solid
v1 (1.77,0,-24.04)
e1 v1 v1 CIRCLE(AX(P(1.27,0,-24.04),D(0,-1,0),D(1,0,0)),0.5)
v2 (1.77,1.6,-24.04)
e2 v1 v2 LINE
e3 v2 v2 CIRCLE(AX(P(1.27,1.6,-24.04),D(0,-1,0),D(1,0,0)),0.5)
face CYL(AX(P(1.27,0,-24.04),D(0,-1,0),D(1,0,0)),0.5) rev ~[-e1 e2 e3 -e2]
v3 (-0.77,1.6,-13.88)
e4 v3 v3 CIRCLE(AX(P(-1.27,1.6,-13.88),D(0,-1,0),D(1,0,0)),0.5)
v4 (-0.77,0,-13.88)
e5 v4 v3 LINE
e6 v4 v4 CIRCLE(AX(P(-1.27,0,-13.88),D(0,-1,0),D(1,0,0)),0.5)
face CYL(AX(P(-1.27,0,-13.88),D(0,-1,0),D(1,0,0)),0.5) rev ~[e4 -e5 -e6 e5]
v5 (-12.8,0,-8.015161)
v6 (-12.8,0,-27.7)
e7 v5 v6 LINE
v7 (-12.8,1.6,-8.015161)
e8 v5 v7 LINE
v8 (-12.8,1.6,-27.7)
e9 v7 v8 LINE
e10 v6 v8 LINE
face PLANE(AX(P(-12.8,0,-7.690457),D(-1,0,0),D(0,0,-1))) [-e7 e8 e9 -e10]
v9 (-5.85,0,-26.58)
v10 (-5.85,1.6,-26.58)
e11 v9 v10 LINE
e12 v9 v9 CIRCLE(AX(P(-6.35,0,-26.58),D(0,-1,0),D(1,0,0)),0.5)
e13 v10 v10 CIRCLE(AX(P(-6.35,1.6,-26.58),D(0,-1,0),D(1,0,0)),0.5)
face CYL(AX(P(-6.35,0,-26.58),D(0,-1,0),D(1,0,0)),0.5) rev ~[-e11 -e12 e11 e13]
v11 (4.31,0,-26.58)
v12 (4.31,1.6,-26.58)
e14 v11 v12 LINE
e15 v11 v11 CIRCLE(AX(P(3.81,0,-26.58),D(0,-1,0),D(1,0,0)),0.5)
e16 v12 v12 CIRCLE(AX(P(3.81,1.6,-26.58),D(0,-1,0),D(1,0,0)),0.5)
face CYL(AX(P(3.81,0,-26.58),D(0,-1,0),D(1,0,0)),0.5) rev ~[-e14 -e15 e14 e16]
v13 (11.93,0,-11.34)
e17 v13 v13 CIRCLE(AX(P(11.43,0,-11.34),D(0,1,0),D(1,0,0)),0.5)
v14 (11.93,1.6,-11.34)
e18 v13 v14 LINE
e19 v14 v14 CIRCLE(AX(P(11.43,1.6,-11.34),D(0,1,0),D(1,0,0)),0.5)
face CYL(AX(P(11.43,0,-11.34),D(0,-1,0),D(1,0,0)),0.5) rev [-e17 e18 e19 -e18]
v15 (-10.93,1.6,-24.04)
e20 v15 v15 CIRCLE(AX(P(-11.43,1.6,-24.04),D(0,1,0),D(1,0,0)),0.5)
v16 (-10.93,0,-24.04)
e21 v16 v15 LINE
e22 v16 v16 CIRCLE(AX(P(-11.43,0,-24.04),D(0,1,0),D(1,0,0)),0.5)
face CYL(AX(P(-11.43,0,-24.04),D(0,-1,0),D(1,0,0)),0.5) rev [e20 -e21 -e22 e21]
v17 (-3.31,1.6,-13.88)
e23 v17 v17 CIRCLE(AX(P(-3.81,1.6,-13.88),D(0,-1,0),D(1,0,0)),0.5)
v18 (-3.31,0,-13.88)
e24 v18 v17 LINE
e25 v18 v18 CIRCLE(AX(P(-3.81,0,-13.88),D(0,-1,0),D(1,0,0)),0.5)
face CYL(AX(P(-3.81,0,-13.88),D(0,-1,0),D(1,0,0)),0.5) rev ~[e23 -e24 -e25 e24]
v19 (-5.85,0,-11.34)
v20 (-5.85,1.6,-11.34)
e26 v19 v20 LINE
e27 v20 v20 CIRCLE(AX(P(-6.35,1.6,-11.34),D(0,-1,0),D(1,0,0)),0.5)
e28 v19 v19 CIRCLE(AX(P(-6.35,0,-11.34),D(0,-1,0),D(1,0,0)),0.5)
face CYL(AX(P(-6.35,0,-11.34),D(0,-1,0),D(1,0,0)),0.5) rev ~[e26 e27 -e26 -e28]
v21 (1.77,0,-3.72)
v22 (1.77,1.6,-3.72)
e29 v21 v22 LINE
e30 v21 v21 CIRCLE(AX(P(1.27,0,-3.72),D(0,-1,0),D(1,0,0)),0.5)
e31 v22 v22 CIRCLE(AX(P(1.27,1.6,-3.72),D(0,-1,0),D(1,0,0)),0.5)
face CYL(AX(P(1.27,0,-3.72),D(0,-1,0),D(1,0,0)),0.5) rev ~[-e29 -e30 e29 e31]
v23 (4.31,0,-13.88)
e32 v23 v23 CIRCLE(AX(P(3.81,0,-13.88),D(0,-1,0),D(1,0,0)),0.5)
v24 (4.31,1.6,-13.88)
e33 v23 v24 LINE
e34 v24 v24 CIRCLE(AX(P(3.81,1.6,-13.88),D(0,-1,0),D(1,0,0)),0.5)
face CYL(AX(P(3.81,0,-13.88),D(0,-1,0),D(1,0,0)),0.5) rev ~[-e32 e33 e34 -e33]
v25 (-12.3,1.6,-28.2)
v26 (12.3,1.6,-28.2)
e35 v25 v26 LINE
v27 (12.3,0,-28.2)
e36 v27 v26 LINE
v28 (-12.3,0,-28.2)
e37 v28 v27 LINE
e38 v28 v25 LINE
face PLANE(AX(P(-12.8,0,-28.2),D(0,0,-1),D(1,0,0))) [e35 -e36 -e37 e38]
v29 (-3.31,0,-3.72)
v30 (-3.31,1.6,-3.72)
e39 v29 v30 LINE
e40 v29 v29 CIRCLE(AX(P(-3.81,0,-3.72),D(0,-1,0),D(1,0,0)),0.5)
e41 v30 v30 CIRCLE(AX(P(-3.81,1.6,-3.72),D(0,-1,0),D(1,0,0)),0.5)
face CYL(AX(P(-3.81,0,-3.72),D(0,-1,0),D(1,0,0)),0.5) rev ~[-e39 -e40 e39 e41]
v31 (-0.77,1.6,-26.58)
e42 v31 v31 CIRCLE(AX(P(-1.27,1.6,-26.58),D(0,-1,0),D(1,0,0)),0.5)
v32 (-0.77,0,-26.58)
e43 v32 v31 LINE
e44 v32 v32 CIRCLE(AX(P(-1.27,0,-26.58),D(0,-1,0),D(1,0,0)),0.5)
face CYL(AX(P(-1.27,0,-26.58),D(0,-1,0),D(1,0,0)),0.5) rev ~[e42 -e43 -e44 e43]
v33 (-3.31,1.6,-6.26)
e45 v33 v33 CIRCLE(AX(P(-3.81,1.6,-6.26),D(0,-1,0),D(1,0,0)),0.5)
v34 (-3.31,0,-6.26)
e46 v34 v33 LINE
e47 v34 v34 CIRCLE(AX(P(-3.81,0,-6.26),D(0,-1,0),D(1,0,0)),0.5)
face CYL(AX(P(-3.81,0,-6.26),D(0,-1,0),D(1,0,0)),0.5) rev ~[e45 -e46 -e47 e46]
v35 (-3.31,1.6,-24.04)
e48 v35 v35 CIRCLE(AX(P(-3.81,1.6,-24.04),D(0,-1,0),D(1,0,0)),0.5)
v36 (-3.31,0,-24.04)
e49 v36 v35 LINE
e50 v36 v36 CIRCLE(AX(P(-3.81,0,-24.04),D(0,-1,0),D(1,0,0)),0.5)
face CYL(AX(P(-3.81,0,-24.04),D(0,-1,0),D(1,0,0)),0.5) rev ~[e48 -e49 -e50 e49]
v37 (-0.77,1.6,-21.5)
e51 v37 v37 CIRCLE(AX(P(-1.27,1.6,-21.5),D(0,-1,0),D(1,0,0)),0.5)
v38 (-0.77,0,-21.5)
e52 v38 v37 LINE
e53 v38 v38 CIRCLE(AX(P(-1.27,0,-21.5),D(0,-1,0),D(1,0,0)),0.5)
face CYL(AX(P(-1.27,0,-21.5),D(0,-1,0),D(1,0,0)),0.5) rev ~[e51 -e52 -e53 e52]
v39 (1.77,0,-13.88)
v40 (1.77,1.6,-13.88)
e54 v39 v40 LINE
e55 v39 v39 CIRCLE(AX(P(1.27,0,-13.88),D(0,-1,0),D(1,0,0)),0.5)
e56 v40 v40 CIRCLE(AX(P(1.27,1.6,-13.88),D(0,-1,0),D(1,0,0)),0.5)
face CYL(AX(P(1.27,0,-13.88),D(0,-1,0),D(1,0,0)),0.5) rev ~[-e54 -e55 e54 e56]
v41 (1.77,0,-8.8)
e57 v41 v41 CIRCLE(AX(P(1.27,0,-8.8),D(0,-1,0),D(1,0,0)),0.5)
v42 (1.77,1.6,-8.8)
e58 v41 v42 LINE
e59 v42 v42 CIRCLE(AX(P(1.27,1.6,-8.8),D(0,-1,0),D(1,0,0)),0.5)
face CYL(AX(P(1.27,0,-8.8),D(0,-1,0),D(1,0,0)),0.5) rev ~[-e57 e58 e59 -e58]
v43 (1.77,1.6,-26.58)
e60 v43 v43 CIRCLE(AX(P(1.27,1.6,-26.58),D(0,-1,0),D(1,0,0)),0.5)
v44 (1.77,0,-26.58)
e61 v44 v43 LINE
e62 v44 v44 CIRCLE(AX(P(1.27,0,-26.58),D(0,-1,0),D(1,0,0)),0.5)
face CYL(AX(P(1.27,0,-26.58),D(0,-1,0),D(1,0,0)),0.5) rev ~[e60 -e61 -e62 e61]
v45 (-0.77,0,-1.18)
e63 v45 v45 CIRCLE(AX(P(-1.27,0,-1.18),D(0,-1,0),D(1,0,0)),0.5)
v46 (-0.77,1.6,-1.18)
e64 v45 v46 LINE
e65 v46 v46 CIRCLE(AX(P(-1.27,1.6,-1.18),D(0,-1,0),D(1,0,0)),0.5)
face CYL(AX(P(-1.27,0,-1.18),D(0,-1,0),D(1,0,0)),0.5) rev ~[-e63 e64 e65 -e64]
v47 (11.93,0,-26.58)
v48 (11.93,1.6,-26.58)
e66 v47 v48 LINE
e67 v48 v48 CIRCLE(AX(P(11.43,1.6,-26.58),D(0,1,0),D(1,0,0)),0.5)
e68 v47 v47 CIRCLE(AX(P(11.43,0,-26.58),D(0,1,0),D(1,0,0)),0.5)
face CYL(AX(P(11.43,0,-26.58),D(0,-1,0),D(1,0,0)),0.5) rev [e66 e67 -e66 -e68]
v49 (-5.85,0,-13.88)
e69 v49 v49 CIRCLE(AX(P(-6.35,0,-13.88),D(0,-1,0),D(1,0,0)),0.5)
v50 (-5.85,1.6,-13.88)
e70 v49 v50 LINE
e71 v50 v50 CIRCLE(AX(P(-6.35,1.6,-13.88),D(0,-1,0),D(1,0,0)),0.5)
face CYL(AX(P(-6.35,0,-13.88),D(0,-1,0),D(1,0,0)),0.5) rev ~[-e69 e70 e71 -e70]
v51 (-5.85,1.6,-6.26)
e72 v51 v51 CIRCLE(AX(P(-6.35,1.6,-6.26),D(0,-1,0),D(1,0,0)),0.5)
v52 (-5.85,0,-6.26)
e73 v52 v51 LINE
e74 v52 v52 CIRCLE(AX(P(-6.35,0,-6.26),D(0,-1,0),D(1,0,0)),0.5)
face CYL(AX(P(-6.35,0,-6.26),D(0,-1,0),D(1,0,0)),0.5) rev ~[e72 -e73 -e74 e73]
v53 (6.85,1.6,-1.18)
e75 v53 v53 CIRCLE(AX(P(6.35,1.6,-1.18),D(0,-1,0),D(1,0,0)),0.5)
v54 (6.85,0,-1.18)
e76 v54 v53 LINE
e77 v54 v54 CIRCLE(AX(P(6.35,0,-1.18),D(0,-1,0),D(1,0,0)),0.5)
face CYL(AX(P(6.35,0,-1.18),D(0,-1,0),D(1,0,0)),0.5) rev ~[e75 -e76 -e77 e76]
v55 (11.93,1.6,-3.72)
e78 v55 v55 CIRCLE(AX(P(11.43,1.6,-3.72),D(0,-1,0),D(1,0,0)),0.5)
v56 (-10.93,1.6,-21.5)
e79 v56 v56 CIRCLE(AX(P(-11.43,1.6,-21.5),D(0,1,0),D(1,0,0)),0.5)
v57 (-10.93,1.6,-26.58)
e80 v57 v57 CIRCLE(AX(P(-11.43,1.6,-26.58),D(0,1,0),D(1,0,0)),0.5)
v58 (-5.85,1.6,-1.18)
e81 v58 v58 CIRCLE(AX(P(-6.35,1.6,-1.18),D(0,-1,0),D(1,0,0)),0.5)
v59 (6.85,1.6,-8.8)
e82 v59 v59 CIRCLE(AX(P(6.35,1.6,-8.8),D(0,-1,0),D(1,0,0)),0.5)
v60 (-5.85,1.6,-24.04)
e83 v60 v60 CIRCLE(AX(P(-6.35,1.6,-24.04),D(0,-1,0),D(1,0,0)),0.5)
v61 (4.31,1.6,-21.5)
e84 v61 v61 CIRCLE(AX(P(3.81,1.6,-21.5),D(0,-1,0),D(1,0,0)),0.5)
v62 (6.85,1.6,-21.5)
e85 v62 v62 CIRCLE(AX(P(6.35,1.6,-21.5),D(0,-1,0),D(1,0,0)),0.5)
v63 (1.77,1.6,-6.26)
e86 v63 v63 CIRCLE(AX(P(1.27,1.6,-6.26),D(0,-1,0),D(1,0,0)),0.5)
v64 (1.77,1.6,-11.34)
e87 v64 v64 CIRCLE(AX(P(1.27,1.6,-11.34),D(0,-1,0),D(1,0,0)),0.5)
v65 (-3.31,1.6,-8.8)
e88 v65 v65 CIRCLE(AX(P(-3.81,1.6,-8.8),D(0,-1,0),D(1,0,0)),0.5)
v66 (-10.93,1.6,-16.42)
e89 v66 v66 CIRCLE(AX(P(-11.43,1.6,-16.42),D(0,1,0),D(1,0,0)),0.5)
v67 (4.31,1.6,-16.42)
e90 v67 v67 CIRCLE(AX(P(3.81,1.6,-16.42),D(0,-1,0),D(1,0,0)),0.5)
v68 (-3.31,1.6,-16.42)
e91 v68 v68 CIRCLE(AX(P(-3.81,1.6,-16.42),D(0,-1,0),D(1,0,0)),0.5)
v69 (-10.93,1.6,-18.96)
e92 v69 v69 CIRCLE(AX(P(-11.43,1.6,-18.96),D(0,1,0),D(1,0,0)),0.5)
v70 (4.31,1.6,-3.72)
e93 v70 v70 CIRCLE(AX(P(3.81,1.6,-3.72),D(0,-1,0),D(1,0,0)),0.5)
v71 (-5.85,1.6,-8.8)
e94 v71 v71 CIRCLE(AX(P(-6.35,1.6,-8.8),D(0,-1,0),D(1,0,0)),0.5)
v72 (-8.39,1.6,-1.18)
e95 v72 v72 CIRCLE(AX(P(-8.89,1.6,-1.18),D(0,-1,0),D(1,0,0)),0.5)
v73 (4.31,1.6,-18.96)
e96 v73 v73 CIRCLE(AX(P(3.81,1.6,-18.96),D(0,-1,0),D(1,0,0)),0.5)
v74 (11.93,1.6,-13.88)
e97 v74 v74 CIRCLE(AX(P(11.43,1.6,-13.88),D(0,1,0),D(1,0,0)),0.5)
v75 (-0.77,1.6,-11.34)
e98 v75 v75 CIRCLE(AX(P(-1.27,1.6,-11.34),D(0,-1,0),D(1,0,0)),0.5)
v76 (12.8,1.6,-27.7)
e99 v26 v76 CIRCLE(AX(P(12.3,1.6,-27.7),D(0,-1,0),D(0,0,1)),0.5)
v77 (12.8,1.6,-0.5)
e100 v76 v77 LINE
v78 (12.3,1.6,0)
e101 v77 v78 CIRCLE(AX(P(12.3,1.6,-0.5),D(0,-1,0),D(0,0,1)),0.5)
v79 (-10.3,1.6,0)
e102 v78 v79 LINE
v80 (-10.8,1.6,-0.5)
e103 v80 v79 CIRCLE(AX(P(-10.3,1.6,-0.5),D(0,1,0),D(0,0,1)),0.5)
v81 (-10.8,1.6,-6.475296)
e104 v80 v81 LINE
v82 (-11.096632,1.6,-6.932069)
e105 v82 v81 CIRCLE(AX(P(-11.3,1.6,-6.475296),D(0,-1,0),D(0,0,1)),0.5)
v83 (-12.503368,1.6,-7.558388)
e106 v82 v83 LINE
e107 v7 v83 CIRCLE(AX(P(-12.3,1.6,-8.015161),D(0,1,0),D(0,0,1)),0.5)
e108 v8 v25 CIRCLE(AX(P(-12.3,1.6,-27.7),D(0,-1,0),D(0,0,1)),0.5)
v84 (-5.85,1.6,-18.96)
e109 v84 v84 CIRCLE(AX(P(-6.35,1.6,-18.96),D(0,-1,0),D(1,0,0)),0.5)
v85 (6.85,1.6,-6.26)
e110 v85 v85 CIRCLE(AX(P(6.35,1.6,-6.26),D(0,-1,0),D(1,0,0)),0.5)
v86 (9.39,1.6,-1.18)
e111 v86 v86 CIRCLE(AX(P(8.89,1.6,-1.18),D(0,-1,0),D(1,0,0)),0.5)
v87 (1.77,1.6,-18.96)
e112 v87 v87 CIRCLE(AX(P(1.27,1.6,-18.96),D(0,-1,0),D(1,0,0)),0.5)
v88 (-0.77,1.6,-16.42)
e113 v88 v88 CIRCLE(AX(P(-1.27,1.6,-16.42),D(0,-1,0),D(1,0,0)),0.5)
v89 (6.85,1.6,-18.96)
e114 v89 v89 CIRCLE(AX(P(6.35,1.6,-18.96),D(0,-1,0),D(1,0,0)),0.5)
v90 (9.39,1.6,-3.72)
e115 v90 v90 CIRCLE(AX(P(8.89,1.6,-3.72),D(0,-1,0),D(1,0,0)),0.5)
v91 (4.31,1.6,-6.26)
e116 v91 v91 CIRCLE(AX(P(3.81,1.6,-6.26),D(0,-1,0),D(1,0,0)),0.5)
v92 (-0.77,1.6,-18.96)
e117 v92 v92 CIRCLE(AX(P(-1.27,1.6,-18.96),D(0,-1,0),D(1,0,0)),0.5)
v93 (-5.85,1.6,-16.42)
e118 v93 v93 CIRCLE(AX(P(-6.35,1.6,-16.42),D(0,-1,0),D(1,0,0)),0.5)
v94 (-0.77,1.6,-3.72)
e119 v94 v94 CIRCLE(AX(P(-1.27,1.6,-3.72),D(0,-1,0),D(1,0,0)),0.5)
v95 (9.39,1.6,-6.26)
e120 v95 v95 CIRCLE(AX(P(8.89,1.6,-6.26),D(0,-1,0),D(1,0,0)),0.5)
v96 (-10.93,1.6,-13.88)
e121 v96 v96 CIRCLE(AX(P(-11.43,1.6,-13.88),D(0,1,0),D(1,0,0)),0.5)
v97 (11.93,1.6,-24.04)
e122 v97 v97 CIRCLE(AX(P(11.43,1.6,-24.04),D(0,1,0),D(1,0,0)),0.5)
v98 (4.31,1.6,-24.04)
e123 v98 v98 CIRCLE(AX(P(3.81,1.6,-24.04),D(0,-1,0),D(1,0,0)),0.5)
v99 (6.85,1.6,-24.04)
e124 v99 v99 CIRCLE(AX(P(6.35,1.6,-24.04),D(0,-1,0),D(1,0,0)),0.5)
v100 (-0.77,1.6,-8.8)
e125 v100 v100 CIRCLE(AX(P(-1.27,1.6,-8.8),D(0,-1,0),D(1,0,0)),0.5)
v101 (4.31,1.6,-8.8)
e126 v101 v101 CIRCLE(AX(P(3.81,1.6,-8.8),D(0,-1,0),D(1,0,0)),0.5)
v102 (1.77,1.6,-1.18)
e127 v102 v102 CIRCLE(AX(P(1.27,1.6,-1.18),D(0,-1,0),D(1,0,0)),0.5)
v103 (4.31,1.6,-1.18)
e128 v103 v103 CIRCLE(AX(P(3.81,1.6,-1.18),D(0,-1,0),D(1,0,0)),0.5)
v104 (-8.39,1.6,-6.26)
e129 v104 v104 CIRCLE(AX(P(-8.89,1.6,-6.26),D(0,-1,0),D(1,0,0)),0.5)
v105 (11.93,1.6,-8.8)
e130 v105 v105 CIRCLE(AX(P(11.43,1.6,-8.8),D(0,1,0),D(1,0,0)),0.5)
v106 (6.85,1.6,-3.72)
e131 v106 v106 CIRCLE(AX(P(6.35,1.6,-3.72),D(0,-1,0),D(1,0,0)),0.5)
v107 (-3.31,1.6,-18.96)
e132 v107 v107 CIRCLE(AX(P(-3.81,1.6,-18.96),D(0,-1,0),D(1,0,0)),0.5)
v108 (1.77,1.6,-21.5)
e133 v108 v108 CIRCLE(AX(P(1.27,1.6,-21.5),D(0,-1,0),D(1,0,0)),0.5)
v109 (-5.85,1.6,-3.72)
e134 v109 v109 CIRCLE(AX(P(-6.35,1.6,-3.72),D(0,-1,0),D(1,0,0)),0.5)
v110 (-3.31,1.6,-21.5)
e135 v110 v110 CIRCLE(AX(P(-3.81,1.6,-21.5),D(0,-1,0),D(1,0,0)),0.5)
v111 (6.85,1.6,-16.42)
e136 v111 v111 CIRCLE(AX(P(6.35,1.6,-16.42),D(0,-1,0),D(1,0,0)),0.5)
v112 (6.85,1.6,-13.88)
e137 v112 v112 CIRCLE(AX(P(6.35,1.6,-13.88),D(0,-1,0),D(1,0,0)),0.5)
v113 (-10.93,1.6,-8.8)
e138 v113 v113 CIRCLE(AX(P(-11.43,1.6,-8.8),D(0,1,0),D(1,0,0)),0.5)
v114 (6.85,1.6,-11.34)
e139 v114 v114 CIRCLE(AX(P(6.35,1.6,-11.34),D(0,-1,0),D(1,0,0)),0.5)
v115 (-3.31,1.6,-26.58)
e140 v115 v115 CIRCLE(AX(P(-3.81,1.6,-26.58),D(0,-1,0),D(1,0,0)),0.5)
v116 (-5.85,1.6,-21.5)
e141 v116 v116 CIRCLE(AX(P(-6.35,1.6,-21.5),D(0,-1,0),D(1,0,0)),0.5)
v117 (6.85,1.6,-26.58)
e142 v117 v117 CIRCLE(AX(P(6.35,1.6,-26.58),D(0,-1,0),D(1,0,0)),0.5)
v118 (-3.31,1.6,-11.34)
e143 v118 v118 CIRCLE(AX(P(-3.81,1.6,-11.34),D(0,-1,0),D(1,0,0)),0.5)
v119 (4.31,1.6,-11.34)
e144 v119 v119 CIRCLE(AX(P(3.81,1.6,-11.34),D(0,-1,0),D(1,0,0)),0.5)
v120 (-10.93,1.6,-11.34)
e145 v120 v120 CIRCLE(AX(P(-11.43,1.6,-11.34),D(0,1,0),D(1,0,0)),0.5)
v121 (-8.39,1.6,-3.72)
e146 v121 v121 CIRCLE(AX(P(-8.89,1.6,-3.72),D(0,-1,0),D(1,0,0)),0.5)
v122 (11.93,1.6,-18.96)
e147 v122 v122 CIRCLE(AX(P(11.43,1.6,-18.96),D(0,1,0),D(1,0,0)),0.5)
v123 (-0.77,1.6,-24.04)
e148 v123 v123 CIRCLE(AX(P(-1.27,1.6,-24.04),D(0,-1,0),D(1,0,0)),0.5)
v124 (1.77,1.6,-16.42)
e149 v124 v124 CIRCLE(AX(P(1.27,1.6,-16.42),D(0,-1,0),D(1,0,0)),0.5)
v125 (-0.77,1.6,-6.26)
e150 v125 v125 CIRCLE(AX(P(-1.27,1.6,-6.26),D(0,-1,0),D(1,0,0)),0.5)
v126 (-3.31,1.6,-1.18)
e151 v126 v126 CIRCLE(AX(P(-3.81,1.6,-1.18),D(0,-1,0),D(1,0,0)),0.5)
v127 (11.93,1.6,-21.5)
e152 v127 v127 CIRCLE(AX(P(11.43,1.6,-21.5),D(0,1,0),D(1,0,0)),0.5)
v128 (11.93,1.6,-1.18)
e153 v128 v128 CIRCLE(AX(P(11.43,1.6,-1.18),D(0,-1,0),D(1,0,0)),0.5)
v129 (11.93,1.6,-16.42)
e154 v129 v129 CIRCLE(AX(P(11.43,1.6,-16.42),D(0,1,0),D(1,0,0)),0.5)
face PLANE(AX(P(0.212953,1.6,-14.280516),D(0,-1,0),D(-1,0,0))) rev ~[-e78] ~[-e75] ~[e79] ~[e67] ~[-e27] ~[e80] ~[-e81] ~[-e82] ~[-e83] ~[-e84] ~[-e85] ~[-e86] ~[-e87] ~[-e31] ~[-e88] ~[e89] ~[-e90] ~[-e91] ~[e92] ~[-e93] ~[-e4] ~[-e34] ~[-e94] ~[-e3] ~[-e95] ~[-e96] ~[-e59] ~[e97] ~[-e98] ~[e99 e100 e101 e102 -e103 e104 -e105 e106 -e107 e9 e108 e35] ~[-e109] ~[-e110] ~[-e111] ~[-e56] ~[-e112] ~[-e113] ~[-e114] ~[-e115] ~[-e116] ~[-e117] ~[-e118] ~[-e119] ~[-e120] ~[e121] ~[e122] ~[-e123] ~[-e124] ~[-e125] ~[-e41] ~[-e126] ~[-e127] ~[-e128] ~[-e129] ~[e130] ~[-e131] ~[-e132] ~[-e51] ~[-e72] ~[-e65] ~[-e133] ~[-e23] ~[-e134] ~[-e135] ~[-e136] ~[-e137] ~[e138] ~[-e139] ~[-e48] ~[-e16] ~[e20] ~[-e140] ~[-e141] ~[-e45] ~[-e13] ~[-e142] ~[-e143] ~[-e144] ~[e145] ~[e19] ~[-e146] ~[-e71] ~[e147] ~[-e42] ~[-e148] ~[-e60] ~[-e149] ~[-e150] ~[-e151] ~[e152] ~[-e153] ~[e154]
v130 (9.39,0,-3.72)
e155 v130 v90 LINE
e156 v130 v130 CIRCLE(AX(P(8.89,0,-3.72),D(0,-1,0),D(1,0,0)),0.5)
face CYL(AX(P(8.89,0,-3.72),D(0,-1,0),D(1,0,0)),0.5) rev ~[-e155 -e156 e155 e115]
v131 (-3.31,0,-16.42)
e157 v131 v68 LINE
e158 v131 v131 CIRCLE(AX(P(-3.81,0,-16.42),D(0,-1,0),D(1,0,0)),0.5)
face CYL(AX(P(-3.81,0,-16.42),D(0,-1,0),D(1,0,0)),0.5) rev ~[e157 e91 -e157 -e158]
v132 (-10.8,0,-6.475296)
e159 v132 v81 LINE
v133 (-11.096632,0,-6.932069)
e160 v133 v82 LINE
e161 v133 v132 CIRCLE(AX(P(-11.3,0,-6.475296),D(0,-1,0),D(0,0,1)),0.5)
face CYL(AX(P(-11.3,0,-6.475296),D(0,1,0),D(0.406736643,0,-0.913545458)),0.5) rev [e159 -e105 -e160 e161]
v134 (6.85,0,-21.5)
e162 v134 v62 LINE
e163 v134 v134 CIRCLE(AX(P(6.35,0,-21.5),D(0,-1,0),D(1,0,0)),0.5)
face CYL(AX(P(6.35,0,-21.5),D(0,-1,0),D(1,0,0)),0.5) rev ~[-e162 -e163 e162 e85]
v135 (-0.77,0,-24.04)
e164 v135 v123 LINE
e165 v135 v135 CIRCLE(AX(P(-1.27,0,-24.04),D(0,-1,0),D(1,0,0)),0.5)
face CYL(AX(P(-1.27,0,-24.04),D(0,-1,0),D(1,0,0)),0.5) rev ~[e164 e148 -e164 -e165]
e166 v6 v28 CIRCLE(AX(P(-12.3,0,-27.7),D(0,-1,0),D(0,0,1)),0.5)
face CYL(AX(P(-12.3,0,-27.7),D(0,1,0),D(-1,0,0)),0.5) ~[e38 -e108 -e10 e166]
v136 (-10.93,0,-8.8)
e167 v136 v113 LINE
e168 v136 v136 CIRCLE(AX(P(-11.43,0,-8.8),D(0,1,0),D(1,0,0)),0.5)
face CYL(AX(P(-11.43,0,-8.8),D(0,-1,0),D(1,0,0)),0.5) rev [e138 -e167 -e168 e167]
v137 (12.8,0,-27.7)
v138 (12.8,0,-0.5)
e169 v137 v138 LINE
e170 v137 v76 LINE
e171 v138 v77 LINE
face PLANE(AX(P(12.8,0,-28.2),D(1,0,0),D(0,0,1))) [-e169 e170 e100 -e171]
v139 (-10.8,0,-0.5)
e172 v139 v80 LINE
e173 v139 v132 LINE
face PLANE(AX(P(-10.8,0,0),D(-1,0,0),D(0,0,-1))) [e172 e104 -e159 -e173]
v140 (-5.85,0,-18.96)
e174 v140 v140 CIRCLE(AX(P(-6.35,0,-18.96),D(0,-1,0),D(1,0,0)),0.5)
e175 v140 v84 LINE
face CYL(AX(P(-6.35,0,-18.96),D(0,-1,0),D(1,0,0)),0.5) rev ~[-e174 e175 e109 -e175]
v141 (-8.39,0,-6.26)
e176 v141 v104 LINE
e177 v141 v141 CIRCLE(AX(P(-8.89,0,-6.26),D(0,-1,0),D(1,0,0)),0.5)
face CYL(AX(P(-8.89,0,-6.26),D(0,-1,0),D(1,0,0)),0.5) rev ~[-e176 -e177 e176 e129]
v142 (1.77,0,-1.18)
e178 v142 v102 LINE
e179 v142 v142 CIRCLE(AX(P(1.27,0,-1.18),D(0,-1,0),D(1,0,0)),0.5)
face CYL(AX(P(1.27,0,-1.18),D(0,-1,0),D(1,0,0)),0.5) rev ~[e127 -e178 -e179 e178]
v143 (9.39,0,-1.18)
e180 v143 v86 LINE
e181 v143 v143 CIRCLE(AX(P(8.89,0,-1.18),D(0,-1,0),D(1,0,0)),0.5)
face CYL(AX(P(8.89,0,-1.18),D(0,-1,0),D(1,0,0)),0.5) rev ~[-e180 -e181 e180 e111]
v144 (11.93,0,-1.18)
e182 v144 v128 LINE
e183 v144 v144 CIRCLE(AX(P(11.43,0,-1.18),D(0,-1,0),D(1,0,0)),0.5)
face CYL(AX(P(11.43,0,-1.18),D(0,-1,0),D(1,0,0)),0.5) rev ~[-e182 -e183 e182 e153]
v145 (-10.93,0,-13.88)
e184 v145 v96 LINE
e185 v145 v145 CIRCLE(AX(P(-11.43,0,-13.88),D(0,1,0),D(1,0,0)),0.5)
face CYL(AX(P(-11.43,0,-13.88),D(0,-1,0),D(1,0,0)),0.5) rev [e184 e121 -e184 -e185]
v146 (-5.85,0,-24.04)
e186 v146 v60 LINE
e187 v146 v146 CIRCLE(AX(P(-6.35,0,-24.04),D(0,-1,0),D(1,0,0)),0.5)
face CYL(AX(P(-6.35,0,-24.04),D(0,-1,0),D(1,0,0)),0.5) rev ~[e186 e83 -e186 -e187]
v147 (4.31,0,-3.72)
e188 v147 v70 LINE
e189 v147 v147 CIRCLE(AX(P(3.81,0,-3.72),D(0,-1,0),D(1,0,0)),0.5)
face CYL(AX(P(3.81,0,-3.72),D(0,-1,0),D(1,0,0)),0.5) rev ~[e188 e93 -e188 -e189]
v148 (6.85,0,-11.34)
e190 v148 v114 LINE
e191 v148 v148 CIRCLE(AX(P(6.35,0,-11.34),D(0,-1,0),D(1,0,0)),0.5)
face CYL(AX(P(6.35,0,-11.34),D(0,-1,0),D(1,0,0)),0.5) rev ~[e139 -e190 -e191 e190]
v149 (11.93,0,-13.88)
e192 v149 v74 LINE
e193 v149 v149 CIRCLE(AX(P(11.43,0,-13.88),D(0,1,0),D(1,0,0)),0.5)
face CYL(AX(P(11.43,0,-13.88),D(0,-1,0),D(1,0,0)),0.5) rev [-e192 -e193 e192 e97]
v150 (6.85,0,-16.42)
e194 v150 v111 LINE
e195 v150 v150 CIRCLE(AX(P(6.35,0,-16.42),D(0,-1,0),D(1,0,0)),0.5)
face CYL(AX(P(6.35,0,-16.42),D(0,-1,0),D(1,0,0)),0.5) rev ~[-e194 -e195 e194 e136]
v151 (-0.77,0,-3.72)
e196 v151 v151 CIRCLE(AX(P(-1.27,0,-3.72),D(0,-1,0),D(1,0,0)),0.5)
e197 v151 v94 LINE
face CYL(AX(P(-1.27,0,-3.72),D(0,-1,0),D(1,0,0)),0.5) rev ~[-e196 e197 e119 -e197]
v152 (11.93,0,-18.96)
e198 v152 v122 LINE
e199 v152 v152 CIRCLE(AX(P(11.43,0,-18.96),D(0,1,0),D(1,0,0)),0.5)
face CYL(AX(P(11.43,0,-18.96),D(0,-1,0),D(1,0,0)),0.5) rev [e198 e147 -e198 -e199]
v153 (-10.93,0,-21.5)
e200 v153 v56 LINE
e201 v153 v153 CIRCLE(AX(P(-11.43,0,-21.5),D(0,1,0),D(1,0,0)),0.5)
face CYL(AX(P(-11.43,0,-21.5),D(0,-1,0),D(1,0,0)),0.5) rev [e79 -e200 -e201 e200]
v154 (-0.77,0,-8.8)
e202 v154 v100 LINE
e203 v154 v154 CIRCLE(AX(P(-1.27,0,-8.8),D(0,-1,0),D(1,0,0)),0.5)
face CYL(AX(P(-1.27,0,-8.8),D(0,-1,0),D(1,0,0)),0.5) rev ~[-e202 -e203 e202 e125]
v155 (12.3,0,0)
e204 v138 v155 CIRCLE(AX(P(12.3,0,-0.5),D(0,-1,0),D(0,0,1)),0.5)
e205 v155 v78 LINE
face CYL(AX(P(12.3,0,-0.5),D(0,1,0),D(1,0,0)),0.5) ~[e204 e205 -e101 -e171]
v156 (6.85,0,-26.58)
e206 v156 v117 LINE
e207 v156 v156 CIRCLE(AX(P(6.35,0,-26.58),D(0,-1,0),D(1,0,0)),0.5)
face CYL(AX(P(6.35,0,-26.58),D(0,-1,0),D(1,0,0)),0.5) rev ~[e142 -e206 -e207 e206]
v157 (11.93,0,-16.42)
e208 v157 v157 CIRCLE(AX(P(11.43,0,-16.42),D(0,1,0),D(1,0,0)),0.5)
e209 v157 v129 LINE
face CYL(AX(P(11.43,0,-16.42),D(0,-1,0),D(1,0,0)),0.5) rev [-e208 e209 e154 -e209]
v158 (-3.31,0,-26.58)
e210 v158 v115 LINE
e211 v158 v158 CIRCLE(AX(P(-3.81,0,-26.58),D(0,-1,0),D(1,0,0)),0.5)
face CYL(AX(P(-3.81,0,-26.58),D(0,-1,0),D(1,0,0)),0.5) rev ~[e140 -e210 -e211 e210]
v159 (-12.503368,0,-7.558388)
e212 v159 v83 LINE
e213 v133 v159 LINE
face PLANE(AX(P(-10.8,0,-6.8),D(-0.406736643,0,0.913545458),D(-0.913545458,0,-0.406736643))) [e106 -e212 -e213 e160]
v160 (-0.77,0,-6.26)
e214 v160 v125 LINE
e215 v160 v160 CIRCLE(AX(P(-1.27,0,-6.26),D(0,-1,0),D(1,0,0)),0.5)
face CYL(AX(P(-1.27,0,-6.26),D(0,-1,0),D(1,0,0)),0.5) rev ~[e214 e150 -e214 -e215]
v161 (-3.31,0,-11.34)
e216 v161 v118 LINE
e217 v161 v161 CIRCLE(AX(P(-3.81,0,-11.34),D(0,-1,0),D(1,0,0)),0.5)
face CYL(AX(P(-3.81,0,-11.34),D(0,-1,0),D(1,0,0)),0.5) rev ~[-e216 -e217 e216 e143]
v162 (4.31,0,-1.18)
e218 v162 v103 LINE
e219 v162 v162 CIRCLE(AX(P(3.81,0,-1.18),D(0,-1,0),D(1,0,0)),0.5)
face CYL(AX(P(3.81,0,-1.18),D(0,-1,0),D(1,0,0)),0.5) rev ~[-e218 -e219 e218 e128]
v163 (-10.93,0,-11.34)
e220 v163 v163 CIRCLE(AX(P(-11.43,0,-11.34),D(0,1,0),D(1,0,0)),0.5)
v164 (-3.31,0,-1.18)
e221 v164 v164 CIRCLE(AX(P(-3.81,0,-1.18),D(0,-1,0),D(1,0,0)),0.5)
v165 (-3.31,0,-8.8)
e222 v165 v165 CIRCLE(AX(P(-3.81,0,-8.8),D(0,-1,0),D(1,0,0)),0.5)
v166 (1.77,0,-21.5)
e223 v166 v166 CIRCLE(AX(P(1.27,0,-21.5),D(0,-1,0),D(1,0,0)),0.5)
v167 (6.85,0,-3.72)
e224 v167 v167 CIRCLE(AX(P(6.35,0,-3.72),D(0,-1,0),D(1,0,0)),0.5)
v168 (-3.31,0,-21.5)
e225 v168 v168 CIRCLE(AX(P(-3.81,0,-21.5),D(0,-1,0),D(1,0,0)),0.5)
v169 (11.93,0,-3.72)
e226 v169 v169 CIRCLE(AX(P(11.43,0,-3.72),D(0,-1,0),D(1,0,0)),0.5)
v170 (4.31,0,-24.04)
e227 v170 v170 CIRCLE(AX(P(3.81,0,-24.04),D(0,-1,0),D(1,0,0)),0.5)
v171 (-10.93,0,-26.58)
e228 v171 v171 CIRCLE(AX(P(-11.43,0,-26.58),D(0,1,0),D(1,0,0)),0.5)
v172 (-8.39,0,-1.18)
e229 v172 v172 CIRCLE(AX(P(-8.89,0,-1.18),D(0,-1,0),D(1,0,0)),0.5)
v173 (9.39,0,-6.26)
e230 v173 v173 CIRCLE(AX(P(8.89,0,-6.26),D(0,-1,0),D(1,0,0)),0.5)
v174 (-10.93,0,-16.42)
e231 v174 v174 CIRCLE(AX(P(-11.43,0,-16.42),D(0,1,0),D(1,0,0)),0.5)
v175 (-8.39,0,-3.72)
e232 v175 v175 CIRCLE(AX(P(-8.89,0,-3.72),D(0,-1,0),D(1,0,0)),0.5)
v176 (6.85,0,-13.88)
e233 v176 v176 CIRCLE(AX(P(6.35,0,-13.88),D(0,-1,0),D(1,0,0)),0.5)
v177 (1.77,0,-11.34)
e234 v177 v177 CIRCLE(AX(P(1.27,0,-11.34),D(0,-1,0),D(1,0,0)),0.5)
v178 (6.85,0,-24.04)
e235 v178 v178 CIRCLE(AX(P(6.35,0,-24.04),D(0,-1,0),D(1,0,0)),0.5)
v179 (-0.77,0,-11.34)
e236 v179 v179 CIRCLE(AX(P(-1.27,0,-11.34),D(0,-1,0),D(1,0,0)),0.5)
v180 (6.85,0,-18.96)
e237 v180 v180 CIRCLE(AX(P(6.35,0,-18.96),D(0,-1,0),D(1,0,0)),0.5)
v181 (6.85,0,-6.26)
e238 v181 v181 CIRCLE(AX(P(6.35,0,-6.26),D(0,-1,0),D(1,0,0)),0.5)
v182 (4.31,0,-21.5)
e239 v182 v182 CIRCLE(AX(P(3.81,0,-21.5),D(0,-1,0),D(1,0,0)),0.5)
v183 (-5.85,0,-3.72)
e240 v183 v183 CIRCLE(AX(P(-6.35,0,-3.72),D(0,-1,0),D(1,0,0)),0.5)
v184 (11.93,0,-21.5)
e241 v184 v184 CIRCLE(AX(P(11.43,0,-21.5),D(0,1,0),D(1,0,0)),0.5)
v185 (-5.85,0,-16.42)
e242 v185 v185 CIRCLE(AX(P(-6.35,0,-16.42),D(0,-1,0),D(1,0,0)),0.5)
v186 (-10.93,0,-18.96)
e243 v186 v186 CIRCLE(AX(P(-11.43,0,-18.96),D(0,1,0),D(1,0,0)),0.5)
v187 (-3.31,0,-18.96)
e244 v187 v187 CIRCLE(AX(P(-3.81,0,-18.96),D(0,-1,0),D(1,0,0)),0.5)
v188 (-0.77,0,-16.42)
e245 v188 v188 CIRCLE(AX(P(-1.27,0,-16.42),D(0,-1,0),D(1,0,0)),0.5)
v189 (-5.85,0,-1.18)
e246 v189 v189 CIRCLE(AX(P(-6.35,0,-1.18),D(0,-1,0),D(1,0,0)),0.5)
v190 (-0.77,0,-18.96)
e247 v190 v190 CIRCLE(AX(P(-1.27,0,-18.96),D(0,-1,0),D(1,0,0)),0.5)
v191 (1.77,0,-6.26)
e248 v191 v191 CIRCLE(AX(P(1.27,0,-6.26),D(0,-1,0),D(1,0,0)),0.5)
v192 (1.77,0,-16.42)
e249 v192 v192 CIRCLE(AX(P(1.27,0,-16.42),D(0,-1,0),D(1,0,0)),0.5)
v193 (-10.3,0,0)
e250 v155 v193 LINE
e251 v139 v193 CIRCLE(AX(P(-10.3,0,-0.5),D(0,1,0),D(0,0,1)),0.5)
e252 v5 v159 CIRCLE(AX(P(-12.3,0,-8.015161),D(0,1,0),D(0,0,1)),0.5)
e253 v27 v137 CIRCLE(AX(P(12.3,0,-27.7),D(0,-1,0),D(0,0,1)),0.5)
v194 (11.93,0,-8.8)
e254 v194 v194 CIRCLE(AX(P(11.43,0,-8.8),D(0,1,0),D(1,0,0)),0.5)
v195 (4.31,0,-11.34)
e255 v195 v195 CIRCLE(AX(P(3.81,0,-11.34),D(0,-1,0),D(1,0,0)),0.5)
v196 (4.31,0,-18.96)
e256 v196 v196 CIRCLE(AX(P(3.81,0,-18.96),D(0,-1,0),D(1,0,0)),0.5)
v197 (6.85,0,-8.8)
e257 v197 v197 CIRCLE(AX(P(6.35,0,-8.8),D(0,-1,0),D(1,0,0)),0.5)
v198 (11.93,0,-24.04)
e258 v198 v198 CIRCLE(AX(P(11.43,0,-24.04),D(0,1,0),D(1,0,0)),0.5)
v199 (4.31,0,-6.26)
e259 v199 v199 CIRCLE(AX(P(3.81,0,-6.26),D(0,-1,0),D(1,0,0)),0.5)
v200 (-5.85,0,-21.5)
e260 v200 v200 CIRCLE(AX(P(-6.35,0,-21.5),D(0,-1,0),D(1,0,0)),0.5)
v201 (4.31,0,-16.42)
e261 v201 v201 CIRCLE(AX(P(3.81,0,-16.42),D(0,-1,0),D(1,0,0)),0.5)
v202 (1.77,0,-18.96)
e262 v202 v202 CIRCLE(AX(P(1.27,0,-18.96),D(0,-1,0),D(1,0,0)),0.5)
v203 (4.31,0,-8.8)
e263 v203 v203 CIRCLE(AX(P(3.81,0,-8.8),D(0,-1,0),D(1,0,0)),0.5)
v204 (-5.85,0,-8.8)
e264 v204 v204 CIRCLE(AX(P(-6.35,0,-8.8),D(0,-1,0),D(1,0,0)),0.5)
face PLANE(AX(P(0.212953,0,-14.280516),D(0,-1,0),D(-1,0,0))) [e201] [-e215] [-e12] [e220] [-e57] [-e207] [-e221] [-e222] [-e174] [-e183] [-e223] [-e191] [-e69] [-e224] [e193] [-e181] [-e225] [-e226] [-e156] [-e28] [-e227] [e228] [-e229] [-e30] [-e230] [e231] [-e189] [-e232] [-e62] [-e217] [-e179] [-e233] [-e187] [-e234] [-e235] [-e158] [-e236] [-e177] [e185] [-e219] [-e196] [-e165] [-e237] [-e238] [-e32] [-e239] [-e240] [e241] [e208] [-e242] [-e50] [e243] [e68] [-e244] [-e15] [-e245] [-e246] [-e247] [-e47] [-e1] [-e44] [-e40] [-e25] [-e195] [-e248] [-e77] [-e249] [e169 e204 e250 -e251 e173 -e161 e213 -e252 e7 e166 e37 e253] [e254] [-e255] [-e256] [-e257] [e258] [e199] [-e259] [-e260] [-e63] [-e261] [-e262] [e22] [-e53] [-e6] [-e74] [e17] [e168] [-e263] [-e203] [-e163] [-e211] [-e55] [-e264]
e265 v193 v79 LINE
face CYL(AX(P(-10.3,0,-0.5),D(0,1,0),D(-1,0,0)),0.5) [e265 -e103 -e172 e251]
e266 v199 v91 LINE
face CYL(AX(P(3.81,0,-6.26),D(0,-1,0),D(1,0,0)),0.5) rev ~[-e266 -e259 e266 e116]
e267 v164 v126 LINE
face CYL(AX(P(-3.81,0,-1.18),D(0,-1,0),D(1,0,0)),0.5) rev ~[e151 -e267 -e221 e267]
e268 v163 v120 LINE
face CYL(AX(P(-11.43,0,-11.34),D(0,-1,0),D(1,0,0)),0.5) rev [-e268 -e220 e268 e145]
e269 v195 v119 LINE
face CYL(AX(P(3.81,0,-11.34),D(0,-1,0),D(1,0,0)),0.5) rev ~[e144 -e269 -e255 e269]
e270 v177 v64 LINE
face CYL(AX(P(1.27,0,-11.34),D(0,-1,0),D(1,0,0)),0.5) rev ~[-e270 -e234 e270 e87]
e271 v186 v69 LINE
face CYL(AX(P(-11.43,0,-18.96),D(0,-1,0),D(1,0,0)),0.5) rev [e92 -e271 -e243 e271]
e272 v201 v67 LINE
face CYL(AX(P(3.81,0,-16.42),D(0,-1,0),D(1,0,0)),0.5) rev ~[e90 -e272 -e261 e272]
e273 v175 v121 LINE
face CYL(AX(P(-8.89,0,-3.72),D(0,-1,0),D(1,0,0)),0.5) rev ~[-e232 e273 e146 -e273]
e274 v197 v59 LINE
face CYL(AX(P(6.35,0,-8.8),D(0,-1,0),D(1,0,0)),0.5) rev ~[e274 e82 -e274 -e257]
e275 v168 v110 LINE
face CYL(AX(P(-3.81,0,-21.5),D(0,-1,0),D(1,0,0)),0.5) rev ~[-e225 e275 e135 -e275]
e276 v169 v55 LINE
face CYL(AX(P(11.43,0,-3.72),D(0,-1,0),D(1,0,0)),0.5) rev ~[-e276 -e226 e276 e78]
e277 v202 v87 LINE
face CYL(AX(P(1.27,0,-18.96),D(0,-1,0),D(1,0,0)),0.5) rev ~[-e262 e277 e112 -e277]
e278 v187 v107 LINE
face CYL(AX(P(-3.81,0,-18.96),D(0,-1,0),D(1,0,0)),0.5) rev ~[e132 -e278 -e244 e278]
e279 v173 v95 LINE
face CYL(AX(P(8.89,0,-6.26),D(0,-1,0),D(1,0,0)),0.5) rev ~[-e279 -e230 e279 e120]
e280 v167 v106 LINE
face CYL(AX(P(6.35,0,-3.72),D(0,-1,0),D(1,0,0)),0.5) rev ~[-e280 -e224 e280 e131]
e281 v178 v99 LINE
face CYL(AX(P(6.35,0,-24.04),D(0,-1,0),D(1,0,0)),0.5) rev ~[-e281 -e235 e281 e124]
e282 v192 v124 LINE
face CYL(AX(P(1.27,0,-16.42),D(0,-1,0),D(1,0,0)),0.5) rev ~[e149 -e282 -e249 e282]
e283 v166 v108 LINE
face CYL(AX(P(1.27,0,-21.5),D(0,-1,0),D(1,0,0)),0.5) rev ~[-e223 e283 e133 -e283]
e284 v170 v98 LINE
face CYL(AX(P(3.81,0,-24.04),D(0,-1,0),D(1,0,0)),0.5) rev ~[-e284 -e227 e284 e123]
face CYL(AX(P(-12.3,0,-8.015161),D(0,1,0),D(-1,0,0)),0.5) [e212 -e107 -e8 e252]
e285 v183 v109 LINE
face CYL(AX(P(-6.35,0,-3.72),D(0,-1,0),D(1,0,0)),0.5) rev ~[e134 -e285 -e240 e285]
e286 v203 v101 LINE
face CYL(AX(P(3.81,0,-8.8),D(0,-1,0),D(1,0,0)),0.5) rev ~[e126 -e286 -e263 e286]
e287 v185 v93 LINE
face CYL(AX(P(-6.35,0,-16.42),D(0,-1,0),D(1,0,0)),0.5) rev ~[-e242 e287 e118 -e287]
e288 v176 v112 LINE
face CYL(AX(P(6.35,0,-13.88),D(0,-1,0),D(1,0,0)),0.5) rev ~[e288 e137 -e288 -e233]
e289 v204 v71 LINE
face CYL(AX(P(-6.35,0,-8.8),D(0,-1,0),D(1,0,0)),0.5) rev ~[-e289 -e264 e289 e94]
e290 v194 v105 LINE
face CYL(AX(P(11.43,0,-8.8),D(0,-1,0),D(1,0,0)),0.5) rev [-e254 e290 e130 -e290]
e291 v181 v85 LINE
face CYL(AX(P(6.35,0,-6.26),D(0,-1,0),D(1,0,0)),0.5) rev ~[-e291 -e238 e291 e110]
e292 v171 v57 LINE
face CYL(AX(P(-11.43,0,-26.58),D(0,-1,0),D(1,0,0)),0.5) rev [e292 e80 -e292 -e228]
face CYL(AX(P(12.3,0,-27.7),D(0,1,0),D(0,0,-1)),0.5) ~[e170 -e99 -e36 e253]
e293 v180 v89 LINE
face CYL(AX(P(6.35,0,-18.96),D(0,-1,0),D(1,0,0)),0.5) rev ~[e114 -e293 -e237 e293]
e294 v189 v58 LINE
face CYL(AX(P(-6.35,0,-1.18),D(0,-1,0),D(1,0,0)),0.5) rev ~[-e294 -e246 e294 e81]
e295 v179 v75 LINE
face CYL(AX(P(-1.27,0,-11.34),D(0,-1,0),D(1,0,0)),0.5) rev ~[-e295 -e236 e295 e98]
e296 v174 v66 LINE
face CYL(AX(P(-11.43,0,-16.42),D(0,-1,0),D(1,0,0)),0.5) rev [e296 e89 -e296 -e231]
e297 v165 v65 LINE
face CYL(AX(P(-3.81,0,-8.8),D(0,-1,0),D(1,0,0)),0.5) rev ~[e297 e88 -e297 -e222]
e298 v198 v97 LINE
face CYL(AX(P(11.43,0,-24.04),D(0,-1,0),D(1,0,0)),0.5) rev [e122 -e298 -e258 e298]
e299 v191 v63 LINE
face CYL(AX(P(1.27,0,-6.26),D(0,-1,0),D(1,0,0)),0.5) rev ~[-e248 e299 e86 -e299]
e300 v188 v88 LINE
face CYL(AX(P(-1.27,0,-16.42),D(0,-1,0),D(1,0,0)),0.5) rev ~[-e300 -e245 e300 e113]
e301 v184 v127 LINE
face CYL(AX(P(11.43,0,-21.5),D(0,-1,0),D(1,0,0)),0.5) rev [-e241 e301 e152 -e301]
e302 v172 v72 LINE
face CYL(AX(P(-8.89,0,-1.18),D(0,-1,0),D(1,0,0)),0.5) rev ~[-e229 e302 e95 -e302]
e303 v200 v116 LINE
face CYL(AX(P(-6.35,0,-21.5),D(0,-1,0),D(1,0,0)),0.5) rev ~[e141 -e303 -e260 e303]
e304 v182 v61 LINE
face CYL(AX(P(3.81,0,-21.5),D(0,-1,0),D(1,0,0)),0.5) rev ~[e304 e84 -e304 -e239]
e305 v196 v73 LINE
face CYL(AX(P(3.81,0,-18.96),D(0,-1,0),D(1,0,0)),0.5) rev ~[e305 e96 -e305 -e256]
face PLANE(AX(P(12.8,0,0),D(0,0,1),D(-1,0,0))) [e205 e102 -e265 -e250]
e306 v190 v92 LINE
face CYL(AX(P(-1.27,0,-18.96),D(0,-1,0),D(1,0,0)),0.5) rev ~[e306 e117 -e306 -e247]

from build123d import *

# Parameters (mm, degrees)
SKETCH2_R           = 0.5
BOSS_EXTRUDE1_DEPTH = 1.6
FILLET1_R           = 0.5
SKETCH3_R           = 0.5
CUT_EXTRUDE1_DEPTH  = 2.6


with BuildPart() as part:
    # Sketch2 → Boss-Extrude1 (new body)
    with BuildSketch(Plane(origin=(0, 0, 0), x_dir=(1, 0, 0), z_dir=(0, 1, 0))):
        Polygon((-12.8, 7.690457371), (-12.8, 28.2), (12.8, 28.2), (12.8, 0), (-10.8, 0), (-10.8, 6.8), align=None)
        with Locations((-11.43, 26.58)):
            Circle(SKETCH2_R, mode=Mode.SUBTRACT)
        with Locations((11.43, 26.58)):
            Circle(SKETCH2_R, mode=Mode.SUBTRACT)
        with Locations((-11.43, 24.04)):
            Circle(SKETCH2_R, mode=Mode.SUBTRACT)
        with Locations((11.43, 24.04)):
            Circle(SKETCH2_R, mode=Mode.SUBTRACT)
        with Locations((-11.43, 21.5)):
            Circle(SKETCH2_R, mode=Mode.SUBTRACT)
        with Locations((11.43, 21.5)):
            Circle(SKETCH2_R, mode=Mode.SUBTRACT)
        with Locations((-11.43, 18.96)):
            Circle(SKETCH2_R, mode=Mode.SUBTRACT)
        with Locations((11.43, 18.96)):
            Circle(SKETCH2_R, mode=Mode.SUBTRACT)
        with Locations((-11.43, 16.42)):
            Circle(SKETCH2_R, mode=Mode.SUBTRACT)
        with Locations((11.43, 16.42)):
            Circle(SKETCH2_R, mode=Mode.SUBTRACT)
        with Locations((-11.43, 13.88)):
            Circle(SKETCH2_R, mode=Mode.SUBTRACT)
        with Locations((11.43, 13.88)):
            Circle(SKETCH2_R, mode=Mode.SUBTRACT)
        with Locations((-11.43, 11.34)):
            Circle(SKETCH2_R, mode=Mode.SUBTRACT)
        with Locations((11.43, 11.34)):
            Circle(SKETCH2_R, mode=Mode.SUBTRACT)
        with Locations((-11.43, 8.8)):
            Circle(SKETCH2_R, mode=Mode.SUBTRACT)
        with Locations((11.43, 8.8)):
            Circle(SKETCH2_R, mode=Mode.SUBTRACT)
    extrude(amount=BOSS_EXTRUDE1_DEPTH)

    # Fillet1
    fillet1_edges = [part.edges().sort_by_distance(p)[0] for p in [
        (12.8, 0.8, 0),
        (-10.8, 0.8, 0),
        (-10.8, 0.8, -6.8),
        (-12.8, 0.8, -7.690457371),
        (-12.8, 0.8, -28.2),
        (12.8, 0.8, -28.2),
    ]]
    fillet(fillet1_edges, radius=FILLET1_R)

    # Sketch3 → Cut-Extrude1 (cut, through all)
    with BuildSketch(Plane.XZ):
        with Locations((-6.35, -26.58)):
            Circle(SKETCH3_R)
        with Locations((-3.81, -26.58)):
            Circle(SKETCH3_R)
        with Locations((-1.27, -26.58)):
            Circle(SKETCH3_R)
        with Locations((1.27, -26.58)):
            Circle(SKETCH3_R)
        with Locations((3.81, -26.58)):
            Circle(SKETCH3_R)
        with Locations((6.35, -26.58)):
            Circle(SKETCH3_R)
        with Locations((-3.81, -24.04)):
            Circle(SKETCH3_R)
        with Locations((-1.27, -24.04)):
            Circle(SKETCH3_R)
        with Locations((1.27, -24.04)):
            Circle(SKETCH3_R)
        with Locations((3.81, -24.04)):
            Circle(SKETCH3_R)
        with Locations((6.35, -24.04)):
            Circle(SKETCH3_R)
        with Locations((-3.81, -21.5)):
            Circle(SKETCH3_R)
        with Locations((-1.27, -21.5)):
            Circle(SKETCH3_R)
        with Locations((1.27, -21.5)):
            Circle(SKETCH3_R)
        with Locations((3.81, -21.5)):
            Circle(SKETCH3_R)
        with Locations((6.35, -21.5)):
            Circle(SKETCH3_R)
        with Locations((-3.81, -18.96)):
            Circle(SKETCH3_R)
        with Locations((-1.27, -18.96)):
            Circle(SKETCH3_R)
        with Locations((1.27, -18.96)):
            Circle(SKETCH3_R)
        with Locations((3.81, -18.96)):
            Circle(SKETCH3_R)
        with Locations((6.35, -18.96)):
            Circle(SKETCH3_R)
        with Locations((-3.81, -16.42)):
            Circle(SKETCH3_R)
        with Locations((-1.27, -16.42)):
            Circle(SKETCH3_R)
        with Locations((1.27, -16.42)):
            Circle(SKETCH3_R)
        with Locations((3.81, -16.42)):
            Circle(SKETCH3_R)
        with Locations((6.35, -16.42)):
            Circle(SKETCH3_R)
        with Locations((-3.81, -13.88)):
            Circle(SKETCH3_R)
        with Locations((-1.27, -13.88)):
            Circle(SKETCH3_R)
        with Locations((1.27, -13.88)):
            Circle(SKETCH3_R)
        with Locations((3.81, -13.88)):
            Circle(SKETCH3_R)
        with Locations((6.35, -13.88)):
            Circle(SKETCH3_R)
        with Locations((-3.81, -11.34)):
            Circle(SKETCH3_R)
        with Locations((-1.27, -11.34)):
            Circle(SKETCH3_R)
        with Locations((1.27, -11.34)):
            Circle(SKETCH3_R)
        with Locations((3.81, -11.34)):
            Circle(SKETCH3_R)
        with Locations((6.35, -11.34)):
            Circle(SKETCH3_R)
        with Locations((-3.81, -8.8)):
            Circle(SKETCH3_R)
        with Locations((-1.27, -8.8)):
            Circle(SKETCH3_R)
        with Locations((1.27, -8.8)):
            Circle(SKETCH3_R)
        with Locations((3.81, -8.8)):
            Circle(SKETCH3_R)
        with Locations((6.35, -8.8)):
            Circle(SKETCH3_R)
        with Locations((-6.35, -24.04)):
            Circle(SKETCH3_R)
        with Locations((-6.35, -21.5)):
            Circle(SKETCH3_R)
        with Locations((-6.35, -18.96)):
            Circle(SKETCH3_R)
        with Locations((-6.35, -16.42)):
            Circle(SKETCH3_R)
        with Locations((-6.35, -13.88)):
            Circle(SKETCH3_R)
        with Locations((-6.35, -11.34)):
            Circle(SKETCH3_R)
        with Locations((-6.35, -8.8)):
            Circle(SKETCH3_R)
        with Locations((-8.89, -6.26)):
            Circle(SKETCH3_R)
        with Locations((-6.35, -6.26)):
            Circle(SKETCH3_R)
        with Locations((-3.81, -6.26)):
            Circle(SKETCH3_R)
        with Locations((-1.27, -6.26)):
            Circle(SKETCH3_R)
        with Locations((1.27, -6.26)):
            Circle(SKETCH3_R)
        with Locations((3.81, -6.26)):
            Circle(SKETCH3_R)
        with Locations((6.35, -6.26)):
            Circle(SKETCH3_R)
        with Locations((8.89, -6.26)):
            Circle(SKETCH3_R)
        with Locations((-6.35, -3.72)):
            Circle(SKETCH3_R)
        with Locations((-3.81, -3.72)):
            Circle(SKETCH3_R)
        with Locations((-1.27, -3.72)):
            Circle(SKETCH3_R)
        with Locations((1.27, -3.72)):
            Circle(SKETCH3_R)
        with Locations((3.81, -3.72)):
            Circle(SKETCH3_R)
        with Locations((6.35, -3.72)):
            Circle(SKETCH3_R)
        with Locations((8.89, -3.72)):
            Circle(SKETCH3_R)
        with Locations((-6.35, -1.18)):
            Circle(SKETCH3_R)
        with Locations((-3.81, -1.18)):
            Circle(SKETCH3_R)
        with Locations((-1.27, -1.18)):
            Circle(SKETCH3_R)
        with Locations((1.27, -1.18)):
            Circle(SKETCH3_R)
        with Locations((3.81, -1.18)):
            Circle(SKETCH3_R)
        with Locations((6.35, -1.18)):
            Circle(SKETCH3_R)
        with Locations((8.89, -1.18)):
            Circle(SKETCH3_R)
        with Locations((-8.89, -3.72)):
            Circle(SKETCH3_R)
        with Locations((-8.89, -1.18)):
            Circle(SKETCH3_R)
        with Locations((11.43, -3.72)):
            Circle(SKETCH3_R)
        with Locations((11.43, -1.18)):
            Circle(SKETCH3_R)
    extrude(amount=-CUT_EXTRUDE1_DEPTH, mode=Mode.SUBTRACT)


solid = part.part
